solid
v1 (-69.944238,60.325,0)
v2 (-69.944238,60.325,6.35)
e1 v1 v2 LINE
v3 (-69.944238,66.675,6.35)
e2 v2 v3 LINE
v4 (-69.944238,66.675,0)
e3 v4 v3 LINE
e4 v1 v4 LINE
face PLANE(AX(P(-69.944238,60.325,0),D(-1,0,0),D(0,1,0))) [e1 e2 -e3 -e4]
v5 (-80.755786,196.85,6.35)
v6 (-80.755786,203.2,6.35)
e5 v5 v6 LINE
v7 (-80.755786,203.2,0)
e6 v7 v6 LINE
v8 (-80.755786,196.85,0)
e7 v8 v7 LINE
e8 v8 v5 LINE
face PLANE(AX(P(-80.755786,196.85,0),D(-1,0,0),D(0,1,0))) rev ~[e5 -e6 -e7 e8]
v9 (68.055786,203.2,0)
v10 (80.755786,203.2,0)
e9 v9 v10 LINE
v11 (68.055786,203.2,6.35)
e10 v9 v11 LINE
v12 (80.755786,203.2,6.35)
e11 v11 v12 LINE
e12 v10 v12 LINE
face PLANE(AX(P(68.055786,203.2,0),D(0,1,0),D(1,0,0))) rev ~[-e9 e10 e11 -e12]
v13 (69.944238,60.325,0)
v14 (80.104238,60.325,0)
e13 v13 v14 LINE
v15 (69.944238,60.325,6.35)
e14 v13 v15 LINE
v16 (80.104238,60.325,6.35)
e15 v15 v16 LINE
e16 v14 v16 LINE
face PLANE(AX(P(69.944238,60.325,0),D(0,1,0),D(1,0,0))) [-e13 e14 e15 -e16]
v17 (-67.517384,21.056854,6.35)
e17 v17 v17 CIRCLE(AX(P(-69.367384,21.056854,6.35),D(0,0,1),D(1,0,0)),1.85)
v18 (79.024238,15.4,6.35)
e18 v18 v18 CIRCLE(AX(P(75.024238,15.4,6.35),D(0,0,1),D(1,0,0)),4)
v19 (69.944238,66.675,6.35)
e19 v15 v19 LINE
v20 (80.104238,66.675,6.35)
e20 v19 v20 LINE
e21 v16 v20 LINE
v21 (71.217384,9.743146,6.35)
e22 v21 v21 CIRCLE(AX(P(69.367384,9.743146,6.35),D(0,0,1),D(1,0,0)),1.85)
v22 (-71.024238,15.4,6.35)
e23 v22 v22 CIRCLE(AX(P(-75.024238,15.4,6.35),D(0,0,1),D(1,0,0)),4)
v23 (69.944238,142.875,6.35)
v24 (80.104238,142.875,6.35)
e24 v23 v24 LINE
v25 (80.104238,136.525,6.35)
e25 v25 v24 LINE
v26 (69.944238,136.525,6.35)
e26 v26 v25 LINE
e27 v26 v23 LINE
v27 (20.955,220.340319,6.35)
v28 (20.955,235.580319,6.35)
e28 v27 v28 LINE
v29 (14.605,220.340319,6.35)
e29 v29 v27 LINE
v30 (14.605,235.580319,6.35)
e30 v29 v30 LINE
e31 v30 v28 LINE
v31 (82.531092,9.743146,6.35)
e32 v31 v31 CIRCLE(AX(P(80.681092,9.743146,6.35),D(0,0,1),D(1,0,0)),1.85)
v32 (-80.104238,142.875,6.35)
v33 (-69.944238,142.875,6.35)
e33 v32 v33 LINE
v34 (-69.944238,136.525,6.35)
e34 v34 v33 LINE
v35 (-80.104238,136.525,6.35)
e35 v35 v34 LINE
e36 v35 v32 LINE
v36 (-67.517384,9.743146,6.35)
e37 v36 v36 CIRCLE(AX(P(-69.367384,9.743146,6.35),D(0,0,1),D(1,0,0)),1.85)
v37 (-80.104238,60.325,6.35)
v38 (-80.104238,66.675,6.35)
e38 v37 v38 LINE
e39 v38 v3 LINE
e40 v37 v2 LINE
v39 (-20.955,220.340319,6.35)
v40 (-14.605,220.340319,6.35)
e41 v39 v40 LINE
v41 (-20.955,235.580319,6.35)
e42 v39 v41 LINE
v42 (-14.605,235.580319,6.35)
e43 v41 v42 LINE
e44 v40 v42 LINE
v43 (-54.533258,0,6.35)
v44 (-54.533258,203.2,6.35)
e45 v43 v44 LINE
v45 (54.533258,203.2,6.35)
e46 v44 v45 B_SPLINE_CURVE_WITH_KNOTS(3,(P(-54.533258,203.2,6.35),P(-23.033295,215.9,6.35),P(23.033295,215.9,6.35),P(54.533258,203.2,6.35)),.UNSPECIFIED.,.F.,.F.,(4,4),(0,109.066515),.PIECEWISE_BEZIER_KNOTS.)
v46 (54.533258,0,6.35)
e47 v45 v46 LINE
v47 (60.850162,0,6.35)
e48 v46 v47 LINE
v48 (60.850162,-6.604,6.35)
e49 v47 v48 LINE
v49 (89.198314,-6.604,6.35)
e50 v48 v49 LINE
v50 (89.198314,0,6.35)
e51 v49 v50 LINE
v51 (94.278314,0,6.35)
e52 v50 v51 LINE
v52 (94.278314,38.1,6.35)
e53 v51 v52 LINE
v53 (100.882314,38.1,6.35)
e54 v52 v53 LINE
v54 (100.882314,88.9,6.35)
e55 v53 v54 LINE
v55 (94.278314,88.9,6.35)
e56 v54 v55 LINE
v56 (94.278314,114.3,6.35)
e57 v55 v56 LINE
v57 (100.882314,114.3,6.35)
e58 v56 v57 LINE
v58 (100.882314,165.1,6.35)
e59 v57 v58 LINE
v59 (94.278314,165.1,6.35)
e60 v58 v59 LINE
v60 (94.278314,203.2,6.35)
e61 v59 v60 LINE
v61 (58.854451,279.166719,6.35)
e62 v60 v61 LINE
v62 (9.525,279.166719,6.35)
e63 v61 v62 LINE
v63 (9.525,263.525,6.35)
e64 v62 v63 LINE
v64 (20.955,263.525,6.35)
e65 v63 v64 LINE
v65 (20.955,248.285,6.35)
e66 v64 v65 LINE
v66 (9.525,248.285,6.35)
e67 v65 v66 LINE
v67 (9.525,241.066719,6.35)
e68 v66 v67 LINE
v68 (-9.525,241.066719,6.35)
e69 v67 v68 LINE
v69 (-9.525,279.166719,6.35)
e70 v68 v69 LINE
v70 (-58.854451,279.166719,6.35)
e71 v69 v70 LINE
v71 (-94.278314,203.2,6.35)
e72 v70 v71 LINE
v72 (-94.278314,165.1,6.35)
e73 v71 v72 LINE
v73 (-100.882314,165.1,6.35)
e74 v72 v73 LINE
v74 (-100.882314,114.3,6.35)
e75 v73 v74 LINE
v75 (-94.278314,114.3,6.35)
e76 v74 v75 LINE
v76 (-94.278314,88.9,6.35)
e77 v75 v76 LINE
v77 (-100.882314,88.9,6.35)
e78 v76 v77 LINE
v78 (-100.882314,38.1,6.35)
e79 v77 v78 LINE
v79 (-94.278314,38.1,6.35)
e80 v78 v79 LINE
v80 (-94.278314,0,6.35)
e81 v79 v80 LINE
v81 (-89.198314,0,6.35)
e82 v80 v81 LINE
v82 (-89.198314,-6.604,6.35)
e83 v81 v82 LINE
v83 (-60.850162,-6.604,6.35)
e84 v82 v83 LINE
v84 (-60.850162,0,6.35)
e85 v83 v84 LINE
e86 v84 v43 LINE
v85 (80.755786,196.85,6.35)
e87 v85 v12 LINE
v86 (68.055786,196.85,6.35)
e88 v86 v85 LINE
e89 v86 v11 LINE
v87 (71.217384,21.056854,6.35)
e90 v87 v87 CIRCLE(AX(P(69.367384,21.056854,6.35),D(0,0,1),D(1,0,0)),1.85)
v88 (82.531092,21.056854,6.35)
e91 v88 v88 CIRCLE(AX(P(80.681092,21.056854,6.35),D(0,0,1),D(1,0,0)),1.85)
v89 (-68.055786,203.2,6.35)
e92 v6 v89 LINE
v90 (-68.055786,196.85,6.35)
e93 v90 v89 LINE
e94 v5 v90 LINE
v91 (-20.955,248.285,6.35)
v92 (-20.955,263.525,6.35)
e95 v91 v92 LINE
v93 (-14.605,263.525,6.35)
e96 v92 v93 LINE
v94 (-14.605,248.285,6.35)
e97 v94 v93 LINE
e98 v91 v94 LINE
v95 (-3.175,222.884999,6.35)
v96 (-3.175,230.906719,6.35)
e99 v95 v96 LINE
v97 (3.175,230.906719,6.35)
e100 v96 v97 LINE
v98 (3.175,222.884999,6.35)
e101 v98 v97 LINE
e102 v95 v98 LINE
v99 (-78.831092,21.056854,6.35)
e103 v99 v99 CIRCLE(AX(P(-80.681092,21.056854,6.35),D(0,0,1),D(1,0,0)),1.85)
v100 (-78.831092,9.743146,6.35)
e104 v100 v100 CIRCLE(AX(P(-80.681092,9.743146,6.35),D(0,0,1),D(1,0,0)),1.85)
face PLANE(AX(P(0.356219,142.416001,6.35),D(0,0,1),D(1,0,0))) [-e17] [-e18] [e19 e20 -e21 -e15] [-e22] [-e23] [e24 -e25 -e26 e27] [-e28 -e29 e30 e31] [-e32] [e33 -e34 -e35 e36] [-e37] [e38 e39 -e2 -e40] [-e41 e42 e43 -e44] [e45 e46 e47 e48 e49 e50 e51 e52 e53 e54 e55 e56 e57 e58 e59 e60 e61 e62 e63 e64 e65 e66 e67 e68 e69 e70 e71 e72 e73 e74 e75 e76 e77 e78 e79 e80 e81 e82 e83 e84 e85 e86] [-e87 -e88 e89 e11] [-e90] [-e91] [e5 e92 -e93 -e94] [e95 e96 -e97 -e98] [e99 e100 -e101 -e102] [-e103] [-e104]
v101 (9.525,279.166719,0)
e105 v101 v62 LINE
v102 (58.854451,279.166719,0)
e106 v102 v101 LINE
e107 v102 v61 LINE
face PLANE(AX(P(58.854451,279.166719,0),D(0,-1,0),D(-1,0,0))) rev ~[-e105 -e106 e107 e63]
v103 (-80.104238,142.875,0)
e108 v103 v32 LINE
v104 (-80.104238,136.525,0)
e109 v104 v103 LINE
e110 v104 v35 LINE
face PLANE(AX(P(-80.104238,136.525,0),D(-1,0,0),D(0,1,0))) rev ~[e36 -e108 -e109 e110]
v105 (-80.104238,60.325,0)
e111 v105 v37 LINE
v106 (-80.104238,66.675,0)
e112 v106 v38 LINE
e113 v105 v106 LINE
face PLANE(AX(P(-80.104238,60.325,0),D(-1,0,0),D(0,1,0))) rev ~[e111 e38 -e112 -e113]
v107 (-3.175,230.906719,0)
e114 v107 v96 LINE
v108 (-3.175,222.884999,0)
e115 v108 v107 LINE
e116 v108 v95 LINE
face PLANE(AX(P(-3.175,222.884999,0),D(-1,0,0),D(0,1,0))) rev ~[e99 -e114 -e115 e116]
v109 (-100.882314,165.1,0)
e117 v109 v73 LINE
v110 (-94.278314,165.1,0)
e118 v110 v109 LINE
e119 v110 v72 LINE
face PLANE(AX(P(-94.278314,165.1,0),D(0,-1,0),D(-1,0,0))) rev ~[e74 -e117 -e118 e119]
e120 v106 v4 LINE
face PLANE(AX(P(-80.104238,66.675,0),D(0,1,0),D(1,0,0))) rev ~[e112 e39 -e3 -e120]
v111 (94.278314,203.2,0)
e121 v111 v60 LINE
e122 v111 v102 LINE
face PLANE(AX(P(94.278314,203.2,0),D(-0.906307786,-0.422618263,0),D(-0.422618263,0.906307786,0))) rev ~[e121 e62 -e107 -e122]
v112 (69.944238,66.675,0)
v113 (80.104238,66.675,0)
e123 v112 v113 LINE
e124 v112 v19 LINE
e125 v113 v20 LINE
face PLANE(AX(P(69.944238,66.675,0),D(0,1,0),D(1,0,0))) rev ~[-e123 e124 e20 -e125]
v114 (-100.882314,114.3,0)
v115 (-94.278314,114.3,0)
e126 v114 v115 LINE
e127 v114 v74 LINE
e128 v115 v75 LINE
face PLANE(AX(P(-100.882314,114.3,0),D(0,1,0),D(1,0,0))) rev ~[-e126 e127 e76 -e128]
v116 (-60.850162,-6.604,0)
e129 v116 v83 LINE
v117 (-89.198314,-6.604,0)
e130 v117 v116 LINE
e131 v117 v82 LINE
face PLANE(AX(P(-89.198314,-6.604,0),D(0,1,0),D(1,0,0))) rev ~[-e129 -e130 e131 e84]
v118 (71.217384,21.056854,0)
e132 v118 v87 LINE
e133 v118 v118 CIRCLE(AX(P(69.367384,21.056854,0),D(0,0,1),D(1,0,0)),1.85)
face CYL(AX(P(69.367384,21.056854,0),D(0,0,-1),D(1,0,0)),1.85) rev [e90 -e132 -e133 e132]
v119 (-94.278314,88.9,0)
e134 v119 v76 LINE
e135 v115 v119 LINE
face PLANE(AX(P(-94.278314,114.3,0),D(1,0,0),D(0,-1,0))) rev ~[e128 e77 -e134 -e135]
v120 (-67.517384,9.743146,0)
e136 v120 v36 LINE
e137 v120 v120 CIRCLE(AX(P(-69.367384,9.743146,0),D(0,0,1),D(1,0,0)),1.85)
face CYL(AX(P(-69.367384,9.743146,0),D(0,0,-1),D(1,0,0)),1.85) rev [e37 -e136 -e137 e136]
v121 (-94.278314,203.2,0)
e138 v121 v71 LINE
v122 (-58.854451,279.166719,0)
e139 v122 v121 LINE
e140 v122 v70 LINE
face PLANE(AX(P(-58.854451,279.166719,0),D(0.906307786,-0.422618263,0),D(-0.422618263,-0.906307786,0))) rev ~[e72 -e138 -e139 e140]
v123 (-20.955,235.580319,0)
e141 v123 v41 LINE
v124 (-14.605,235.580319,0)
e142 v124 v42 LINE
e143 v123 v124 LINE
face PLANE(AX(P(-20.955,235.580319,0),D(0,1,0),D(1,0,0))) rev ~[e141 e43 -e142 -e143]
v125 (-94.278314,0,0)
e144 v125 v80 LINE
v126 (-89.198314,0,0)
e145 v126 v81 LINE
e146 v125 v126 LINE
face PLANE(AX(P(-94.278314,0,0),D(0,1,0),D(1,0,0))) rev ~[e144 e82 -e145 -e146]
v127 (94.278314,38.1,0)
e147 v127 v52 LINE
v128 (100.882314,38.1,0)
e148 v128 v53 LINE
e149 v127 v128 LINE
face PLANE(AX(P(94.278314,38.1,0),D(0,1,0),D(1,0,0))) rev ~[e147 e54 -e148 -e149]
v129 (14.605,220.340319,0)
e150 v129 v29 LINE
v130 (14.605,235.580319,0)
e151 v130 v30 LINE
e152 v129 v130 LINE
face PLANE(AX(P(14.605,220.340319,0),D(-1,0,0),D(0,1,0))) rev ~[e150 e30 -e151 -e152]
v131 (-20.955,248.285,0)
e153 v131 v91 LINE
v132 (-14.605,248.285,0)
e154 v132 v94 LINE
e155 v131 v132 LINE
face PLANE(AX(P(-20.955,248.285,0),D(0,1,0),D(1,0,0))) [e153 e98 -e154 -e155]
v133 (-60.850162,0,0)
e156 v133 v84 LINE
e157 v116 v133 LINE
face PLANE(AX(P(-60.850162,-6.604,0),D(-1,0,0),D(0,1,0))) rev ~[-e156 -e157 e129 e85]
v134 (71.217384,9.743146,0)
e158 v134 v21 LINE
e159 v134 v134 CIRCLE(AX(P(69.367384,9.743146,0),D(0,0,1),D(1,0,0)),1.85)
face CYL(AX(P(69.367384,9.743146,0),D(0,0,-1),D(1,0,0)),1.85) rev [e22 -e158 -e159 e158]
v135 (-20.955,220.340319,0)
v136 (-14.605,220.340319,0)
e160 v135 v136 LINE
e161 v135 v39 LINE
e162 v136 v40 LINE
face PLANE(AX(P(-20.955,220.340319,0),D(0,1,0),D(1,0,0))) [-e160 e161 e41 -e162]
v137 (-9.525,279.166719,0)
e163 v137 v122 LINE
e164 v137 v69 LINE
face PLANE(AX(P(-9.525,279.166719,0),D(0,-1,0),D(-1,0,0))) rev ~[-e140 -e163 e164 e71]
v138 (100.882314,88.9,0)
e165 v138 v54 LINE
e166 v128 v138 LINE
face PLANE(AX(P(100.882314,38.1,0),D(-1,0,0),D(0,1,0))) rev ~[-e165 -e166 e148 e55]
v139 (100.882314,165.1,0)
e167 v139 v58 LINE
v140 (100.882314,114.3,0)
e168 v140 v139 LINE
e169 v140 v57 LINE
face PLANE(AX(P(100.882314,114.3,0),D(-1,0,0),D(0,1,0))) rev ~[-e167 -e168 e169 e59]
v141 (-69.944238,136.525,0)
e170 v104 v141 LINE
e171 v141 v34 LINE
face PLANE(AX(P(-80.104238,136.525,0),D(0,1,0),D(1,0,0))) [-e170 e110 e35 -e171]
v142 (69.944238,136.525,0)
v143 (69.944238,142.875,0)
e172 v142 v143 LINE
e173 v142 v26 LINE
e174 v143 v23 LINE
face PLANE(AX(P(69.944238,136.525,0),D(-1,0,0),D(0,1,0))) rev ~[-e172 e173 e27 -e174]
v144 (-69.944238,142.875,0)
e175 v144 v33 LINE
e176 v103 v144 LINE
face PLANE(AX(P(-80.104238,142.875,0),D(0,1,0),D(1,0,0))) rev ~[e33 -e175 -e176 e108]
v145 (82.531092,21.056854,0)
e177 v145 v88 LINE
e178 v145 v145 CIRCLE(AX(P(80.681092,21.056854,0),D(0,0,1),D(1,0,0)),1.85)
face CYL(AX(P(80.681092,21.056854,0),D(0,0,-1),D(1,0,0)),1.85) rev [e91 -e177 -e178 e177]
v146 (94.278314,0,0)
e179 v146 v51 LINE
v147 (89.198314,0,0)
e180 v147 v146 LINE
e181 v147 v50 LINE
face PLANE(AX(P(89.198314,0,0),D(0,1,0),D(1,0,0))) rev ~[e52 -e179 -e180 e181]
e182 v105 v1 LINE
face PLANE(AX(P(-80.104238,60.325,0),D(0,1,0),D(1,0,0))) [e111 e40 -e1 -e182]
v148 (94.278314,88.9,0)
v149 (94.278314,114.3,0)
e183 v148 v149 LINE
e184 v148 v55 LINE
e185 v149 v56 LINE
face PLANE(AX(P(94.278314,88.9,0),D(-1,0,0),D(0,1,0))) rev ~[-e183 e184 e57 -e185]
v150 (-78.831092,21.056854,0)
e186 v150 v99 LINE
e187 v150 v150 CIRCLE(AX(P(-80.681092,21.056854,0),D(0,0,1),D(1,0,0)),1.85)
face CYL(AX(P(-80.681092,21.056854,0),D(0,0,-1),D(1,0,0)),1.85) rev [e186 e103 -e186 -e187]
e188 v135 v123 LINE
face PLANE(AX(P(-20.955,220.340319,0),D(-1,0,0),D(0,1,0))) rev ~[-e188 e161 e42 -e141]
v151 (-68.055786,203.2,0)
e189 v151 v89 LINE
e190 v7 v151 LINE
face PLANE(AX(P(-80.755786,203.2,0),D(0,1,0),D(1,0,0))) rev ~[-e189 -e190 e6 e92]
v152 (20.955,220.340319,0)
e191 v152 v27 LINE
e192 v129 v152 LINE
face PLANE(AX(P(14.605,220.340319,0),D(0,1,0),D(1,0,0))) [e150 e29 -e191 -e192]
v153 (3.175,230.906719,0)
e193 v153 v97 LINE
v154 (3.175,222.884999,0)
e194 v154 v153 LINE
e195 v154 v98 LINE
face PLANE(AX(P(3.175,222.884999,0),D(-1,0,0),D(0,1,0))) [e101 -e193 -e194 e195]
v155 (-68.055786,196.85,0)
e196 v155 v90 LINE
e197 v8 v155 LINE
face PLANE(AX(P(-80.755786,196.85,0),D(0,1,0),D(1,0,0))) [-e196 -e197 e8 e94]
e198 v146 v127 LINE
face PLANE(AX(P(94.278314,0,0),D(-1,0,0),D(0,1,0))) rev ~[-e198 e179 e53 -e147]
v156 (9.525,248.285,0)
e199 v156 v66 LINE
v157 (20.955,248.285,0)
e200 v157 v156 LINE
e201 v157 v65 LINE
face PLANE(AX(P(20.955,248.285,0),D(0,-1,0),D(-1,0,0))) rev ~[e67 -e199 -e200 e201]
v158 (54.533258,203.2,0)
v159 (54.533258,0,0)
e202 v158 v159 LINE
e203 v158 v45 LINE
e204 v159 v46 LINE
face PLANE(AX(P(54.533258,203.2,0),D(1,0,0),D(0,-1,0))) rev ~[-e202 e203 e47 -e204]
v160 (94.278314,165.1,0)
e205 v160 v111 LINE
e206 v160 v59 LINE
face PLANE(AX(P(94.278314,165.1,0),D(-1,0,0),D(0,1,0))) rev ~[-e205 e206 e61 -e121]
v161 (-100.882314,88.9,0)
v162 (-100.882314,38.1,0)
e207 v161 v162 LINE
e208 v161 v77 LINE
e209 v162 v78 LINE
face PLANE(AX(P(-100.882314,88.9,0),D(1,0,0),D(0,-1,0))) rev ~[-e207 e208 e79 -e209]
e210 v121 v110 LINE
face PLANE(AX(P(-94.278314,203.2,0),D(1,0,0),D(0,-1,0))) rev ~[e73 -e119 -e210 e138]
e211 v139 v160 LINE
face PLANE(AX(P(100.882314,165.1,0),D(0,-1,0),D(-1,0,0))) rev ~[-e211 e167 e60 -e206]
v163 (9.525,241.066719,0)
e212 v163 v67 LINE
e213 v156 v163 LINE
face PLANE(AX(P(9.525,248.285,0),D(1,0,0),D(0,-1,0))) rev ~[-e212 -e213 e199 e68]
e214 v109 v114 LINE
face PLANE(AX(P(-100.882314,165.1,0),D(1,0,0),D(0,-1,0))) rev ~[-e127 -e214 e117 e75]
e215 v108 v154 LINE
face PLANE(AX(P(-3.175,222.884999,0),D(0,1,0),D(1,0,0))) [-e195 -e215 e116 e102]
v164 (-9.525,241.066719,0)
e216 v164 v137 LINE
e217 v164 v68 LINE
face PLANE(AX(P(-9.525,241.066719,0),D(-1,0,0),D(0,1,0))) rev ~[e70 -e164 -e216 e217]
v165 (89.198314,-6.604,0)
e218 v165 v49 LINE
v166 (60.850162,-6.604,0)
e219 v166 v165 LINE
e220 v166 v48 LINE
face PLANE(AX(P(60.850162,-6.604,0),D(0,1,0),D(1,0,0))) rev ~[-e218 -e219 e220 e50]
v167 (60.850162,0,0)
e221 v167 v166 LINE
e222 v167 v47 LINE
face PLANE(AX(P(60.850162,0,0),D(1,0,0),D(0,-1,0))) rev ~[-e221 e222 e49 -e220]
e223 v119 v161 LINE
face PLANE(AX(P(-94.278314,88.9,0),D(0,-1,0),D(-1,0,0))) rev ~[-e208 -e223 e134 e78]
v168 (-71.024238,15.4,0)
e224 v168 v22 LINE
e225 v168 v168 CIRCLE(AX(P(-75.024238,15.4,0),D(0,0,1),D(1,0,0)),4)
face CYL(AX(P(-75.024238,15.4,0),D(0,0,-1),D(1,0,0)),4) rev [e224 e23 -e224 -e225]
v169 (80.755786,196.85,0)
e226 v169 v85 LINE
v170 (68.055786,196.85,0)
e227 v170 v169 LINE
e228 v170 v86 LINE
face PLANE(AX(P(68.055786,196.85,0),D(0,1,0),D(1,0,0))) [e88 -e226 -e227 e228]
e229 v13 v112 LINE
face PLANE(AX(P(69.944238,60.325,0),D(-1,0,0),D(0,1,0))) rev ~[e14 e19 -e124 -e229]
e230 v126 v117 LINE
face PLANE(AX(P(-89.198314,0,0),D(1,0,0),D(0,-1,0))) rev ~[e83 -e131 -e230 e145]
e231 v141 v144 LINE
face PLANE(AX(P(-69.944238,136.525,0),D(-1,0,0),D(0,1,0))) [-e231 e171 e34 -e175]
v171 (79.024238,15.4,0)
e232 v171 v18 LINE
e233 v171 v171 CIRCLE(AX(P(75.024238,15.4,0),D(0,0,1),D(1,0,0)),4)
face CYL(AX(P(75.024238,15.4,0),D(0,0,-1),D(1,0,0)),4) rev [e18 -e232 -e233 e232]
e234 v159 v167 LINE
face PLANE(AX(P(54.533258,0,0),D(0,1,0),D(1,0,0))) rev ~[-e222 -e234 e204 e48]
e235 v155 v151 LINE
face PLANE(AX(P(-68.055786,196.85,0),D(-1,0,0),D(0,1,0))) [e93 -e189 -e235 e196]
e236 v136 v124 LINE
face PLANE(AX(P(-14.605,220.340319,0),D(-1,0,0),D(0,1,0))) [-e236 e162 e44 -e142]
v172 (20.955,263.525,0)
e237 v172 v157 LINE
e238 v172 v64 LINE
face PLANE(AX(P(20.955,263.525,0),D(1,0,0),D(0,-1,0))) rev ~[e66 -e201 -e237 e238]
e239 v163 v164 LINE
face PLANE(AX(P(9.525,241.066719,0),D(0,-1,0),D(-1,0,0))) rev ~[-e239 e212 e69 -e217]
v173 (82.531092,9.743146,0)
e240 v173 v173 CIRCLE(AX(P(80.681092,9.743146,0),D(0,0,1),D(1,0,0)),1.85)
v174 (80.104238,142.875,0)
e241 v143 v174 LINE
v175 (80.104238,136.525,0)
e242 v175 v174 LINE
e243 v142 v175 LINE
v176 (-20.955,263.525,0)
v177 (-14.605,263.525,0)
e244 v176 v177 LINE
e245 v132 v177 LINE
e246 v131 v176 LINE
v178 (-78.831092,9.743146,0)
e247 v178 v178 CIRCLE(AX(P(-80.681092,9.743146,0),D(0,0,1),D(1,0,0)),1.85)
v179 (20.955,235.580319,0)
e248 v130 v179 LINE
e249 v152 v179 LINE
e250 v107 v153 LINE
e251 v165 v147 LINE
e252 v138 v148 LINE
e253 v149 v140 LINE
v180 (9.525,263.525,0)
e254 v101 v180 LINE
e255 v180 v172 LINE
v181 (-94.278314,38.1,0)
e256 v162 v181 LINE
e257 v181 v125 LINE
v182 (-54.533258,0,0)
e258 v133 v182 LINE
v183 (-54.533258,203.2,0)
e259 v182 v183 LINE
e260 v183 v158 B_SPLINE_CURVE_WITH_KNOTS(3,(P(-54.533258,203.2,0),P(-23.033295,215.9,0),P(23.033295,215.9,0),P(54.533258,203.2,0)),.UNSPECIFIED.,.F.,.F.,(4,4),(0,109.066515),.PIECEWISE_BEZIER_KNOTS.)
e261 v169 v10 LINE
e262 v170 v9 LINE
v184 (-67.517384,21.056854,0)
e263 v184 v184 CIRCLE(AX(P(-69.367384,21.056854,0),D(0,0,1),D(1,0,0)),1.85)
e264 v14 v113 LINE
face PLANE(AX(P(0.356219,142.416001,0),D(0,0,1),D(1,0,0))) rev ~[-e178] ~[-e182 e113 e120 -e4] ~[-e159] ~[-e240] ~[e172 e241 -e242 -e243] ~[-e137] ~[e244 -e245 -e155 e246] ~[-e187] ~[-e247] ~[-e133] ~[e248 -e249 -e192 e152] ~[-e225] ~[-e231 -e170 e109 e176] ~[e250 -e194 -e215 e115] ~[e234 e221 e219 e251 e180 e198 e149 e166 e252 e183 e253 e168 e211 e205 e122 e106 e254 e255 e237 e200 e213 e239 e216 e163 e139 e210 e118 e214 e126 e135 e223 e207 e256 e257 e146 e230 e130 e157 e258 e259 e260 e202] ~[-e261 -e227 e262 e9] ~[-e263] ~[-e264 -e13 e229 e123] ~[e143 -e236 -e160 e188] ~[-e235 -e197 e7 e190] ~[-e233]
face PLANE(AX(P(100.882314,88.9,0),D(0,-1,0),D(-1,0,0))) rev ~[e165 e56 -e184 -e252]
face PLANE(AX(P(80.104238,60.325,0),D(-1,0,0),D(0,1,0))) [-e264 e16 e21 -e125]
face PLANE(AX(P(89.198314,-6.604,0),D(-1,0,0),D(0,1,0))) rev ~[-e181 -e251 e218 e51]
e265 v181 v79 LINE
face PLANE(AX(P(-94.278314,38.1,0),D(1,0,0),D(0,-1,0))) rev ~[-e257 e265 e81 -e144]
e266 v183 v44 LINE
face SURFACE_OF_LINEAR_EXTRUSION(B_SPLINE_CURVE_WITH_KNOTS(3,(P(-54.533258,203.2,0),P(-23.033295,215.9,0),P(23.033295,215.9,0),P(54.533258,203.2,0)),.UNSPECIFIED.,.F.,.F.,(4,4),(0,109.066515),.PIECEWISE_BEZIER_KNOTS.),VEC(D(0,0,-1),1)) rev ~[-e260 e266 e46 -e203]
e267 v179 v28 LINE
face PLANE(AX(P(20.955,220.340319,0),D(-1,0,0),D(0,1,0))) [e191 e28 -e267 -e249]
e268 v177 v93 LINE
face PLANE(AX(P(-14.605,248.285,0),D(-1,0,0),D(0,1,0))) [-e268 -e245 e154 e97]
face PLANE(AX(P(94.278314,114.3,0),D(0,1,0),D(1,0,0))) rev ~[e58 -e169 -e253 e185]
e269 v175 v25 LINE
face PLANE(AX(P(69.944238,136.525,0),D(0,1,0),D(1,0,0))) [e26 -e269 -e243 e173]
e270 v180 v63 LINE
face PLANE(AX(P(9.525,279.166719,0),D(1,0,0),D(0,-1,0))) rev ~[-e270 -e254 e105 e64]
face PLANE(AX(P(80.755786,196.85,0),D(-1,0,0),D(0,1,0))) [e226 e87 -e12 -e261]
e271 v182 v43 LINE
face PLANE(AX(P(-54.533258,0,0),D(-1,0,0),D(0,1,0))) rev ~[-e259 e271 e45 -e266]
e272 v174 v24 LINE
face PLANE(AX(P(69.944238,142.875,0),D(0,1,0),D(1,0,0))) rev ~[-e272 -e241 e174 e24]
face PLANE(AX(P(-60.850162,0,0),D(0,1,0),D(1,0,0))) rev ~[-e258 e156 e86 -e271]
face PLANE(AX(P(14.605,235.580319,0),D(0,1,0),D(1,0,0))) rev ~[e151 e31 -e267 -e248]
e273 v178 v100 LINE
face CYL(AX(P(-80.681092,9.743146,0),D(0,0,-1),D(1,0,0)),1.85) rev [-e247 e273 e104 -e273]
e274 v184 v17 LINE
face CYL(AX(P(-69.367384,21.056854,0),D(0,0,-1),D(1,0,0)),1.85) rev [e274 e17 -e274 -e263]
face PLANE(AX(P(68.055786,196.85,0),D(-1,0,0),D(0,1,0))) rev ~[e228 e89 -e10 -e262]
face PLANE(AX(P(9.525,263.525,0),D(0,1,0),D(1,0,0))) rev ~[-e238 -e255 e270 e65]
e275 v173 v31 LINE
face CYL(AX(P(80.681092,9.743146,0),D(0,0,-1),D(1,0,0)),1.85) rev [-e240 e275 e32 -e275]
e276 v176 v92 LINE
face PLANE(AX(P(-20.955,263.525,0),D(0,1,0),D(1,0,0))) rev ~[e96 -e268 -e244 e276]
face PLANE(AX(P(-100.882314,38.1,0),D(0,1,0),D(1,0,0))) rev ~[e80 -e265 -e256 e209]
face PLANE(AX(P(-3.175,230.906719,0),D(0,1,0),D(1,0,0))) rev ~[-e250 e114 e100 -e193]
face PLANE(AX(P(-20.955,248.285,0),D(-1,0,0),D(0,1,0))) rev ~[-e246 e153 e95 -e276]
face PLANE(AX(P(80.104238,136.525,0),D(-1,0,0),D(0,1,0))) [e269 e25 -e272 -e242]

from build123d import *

# Parameters (mm, degrees)
F0_R     = 1.85
F0_R_2   = 4
F0_W     = 10.16
F0_H     = 6.35
F0_W_2   = 12.7
F0_W_3   = 6.35
F0_H_2   = 15.24
F0_H_3   = 8.021719
F1_DEPTH = 6.35


with BuildPart() as f1:
    # F0 (on Top) → F1 (new body)
    with BuildSketch(Plane.XY):
        with BuildLine():
            Line((-60.850162, -6.604), (-60.850162, 0))
            Line((-60.850162, 0), (-54.533258, 0))
            Line((-54.533258, 0), (-54.533258, 203.2))
            add(Edge.make_bspline(
                [(-54.533258, 203.2), (-23.033295, 215.9), (23.033295, 215.9), (54.533258, 203.2)],
                knots=[0, 0, 0, 0, 109.066515, 109.066515, 109.066515, 109.066515], degree=3))
            Line((54.533258, 203.2), (54.533258, 0))
            Line((54.533258, 0), (60.850162, 0))
            Line((60.850162, 0), (60.850162, -6.604))
            Line((60.850162, -6.604), (89.198314, -6.604))
            Line((89.198314, -6.604), (89.198314, 0))
            Line((89.198314, 0), (94.278314, 0))
            Line((94.278314, 0), (94.278314, 38.1))
            Line((94.278314, 38.1), (100.882314, 38.1))
            Line((100.882314, 38.1), (100.882314, 88.9))
            Line((100.882314, 88.9), (94.278314, 88.9))
            Line((94.278314, 88.9), (94.278314, 114.3))
            Line((94.278314, 114.3), (100.882314, 114.3))
            Line((100.882314, 114.3), (100.882314, 165.1))
            Line((100.882314, 165.1), (94.278314, 165.1))
            Line((94.278314, 165.1), (94.278314, 203.2))
            Line((94.278314, 203.2), (58.854451, 279.166719))
            Line((58.854451, 279.166719), (9.525, 279.166719))
            Line((9.525, 279.166719), (9.525, 263.525))
            Line((9.525, 263.525), (20.955, 263.525))
            Line((20.955, 263.525), (20.955, 248.285))
            Line((20.955, 248.285), (9.525, 248.285))
            Line((9.525, 248.285), (9.525, 241.066719))
            Line((9.525, 241.066719), (-9.525, 241.066719))
            Line((-9.525, 241.066719), (-9.525, 279.166719))
            Line((-9.525, 279.166719), (-58.854451, 279.166719))
            Line((-58.854451, 279.166719), (-94.278314, 203.2))
            Line((-94.278314, 203.2), (-94.278314, 165.1))
            Line((-94.278314, 165.1), (-100.882314, 165.1))
            Line((-100.882314, 165.1), (-100.882314, 114.3))
            Line((-100.882314, 114.3), (-94.278314, 114.3))
            Line((-94.278314, 114.3), (-94.278314, 88.9))
            Line((-94.278314, 88.9), (-100.882314, 88.9))
            Line((-100.882314, 88.9), (-100.882314, 38.1))
            Line((-100.882314, 38.1), (-94.278314, 38.1))
            Line((-94.278314, 38.1), (-94.278314, 0))
            Line((-94.278314, 0), (-89.198314, 0))
            Line((-89.198314, 0), (-89.198314, -6.604))
            Line((-89.198314, -6.604), (-60.850162, -6.604))
        make_face()
        with Locations((-80.681092, 9.743146)):
            Circle(F0_R, mode=Mode.SUBTRACT)
        with Locations((-80.681092, 21.056854)):
            Circle(F0_R, mode=Mode.SUBTRACT)
        with Locations((-69.367384, 9.743146)):
            Circle(F0_R, mode=Mode.SUBTRACT)
        with Locations((-75.024238, 15.4)):
            Circle(F0_R_2, mode=Mode.SUBTRACT)
        with Locations((-69.367384, 21.056854)):
            Circle(F0_R, mode=Mode.SUBTRACT)
        with Locations((-75.024238, 63.5)):
            Rectangle(F0_W, F0_H, mode=Mode.SUBTRACT)
        with Locations((69.367384, 9.743146)):
            Circle(F0_R, mode=Mode.SUBTRACT)
        with Locations((75.024238, 15.4)):
            Circle(F0_R_2, mode=Mode.SUBTRACT)
        with Locations((69.367384, 21.056854)):
            Circle(F0_R, mode=Mode.SUBTRACT)
        with Locations((80.681092, 9.743146)):
            Circle(F0_R, mode=Mode.SUBTRACT)
        with Locations((80.681092, 21.056854)):
            Circle(F0_R, mode=Mode.SUBTRACT)
        with Locations((75.024238, 63.5)):
            Rectangle(F0_W, F0_H, mode=Mode.SUBTRACT)
        with Locations((-75.024238, 139.7)):
            Rectangle(F0_W, F0_H, mode=Mode.SUBTRACT)
        with Locations((-74.405786, 200.025)):
            Rectangle(F0_W_2, F0_H, mode=Mode.SUBTRACT)
        with Locations((-17.78, 227.960319)):
            Rectangle(F0_W_3, F0_H_2, mode=Mode.SUBTRACT)
        with Locations((-17.78, 255.905)):
            Rectangle(F0_W_3, F0_H_2, mode=Mode.SUBTRACT)
        with Locations((75.024238, 139.7)):
            Rectangle(F0_W, F0_H, mode=Mode.SUBTRACT)
        with Locations((74.405786, 200.025)):
            Rectangle(F0_W_2, F0_H, mode=Mode.SUBTRACT)
        with Locations((0, 226.895859)):
            Rectangle(F0_W_3, F0_H_3, mode=Mode.SUBTRACT)
        with Locations((17.78, 227.960319)):
            Rectangle(F0_W_3, F0_H_2, mode=Mode.SUBTRACT)
    extrude(amount=F1_DEPTH)


solid = f1.part
